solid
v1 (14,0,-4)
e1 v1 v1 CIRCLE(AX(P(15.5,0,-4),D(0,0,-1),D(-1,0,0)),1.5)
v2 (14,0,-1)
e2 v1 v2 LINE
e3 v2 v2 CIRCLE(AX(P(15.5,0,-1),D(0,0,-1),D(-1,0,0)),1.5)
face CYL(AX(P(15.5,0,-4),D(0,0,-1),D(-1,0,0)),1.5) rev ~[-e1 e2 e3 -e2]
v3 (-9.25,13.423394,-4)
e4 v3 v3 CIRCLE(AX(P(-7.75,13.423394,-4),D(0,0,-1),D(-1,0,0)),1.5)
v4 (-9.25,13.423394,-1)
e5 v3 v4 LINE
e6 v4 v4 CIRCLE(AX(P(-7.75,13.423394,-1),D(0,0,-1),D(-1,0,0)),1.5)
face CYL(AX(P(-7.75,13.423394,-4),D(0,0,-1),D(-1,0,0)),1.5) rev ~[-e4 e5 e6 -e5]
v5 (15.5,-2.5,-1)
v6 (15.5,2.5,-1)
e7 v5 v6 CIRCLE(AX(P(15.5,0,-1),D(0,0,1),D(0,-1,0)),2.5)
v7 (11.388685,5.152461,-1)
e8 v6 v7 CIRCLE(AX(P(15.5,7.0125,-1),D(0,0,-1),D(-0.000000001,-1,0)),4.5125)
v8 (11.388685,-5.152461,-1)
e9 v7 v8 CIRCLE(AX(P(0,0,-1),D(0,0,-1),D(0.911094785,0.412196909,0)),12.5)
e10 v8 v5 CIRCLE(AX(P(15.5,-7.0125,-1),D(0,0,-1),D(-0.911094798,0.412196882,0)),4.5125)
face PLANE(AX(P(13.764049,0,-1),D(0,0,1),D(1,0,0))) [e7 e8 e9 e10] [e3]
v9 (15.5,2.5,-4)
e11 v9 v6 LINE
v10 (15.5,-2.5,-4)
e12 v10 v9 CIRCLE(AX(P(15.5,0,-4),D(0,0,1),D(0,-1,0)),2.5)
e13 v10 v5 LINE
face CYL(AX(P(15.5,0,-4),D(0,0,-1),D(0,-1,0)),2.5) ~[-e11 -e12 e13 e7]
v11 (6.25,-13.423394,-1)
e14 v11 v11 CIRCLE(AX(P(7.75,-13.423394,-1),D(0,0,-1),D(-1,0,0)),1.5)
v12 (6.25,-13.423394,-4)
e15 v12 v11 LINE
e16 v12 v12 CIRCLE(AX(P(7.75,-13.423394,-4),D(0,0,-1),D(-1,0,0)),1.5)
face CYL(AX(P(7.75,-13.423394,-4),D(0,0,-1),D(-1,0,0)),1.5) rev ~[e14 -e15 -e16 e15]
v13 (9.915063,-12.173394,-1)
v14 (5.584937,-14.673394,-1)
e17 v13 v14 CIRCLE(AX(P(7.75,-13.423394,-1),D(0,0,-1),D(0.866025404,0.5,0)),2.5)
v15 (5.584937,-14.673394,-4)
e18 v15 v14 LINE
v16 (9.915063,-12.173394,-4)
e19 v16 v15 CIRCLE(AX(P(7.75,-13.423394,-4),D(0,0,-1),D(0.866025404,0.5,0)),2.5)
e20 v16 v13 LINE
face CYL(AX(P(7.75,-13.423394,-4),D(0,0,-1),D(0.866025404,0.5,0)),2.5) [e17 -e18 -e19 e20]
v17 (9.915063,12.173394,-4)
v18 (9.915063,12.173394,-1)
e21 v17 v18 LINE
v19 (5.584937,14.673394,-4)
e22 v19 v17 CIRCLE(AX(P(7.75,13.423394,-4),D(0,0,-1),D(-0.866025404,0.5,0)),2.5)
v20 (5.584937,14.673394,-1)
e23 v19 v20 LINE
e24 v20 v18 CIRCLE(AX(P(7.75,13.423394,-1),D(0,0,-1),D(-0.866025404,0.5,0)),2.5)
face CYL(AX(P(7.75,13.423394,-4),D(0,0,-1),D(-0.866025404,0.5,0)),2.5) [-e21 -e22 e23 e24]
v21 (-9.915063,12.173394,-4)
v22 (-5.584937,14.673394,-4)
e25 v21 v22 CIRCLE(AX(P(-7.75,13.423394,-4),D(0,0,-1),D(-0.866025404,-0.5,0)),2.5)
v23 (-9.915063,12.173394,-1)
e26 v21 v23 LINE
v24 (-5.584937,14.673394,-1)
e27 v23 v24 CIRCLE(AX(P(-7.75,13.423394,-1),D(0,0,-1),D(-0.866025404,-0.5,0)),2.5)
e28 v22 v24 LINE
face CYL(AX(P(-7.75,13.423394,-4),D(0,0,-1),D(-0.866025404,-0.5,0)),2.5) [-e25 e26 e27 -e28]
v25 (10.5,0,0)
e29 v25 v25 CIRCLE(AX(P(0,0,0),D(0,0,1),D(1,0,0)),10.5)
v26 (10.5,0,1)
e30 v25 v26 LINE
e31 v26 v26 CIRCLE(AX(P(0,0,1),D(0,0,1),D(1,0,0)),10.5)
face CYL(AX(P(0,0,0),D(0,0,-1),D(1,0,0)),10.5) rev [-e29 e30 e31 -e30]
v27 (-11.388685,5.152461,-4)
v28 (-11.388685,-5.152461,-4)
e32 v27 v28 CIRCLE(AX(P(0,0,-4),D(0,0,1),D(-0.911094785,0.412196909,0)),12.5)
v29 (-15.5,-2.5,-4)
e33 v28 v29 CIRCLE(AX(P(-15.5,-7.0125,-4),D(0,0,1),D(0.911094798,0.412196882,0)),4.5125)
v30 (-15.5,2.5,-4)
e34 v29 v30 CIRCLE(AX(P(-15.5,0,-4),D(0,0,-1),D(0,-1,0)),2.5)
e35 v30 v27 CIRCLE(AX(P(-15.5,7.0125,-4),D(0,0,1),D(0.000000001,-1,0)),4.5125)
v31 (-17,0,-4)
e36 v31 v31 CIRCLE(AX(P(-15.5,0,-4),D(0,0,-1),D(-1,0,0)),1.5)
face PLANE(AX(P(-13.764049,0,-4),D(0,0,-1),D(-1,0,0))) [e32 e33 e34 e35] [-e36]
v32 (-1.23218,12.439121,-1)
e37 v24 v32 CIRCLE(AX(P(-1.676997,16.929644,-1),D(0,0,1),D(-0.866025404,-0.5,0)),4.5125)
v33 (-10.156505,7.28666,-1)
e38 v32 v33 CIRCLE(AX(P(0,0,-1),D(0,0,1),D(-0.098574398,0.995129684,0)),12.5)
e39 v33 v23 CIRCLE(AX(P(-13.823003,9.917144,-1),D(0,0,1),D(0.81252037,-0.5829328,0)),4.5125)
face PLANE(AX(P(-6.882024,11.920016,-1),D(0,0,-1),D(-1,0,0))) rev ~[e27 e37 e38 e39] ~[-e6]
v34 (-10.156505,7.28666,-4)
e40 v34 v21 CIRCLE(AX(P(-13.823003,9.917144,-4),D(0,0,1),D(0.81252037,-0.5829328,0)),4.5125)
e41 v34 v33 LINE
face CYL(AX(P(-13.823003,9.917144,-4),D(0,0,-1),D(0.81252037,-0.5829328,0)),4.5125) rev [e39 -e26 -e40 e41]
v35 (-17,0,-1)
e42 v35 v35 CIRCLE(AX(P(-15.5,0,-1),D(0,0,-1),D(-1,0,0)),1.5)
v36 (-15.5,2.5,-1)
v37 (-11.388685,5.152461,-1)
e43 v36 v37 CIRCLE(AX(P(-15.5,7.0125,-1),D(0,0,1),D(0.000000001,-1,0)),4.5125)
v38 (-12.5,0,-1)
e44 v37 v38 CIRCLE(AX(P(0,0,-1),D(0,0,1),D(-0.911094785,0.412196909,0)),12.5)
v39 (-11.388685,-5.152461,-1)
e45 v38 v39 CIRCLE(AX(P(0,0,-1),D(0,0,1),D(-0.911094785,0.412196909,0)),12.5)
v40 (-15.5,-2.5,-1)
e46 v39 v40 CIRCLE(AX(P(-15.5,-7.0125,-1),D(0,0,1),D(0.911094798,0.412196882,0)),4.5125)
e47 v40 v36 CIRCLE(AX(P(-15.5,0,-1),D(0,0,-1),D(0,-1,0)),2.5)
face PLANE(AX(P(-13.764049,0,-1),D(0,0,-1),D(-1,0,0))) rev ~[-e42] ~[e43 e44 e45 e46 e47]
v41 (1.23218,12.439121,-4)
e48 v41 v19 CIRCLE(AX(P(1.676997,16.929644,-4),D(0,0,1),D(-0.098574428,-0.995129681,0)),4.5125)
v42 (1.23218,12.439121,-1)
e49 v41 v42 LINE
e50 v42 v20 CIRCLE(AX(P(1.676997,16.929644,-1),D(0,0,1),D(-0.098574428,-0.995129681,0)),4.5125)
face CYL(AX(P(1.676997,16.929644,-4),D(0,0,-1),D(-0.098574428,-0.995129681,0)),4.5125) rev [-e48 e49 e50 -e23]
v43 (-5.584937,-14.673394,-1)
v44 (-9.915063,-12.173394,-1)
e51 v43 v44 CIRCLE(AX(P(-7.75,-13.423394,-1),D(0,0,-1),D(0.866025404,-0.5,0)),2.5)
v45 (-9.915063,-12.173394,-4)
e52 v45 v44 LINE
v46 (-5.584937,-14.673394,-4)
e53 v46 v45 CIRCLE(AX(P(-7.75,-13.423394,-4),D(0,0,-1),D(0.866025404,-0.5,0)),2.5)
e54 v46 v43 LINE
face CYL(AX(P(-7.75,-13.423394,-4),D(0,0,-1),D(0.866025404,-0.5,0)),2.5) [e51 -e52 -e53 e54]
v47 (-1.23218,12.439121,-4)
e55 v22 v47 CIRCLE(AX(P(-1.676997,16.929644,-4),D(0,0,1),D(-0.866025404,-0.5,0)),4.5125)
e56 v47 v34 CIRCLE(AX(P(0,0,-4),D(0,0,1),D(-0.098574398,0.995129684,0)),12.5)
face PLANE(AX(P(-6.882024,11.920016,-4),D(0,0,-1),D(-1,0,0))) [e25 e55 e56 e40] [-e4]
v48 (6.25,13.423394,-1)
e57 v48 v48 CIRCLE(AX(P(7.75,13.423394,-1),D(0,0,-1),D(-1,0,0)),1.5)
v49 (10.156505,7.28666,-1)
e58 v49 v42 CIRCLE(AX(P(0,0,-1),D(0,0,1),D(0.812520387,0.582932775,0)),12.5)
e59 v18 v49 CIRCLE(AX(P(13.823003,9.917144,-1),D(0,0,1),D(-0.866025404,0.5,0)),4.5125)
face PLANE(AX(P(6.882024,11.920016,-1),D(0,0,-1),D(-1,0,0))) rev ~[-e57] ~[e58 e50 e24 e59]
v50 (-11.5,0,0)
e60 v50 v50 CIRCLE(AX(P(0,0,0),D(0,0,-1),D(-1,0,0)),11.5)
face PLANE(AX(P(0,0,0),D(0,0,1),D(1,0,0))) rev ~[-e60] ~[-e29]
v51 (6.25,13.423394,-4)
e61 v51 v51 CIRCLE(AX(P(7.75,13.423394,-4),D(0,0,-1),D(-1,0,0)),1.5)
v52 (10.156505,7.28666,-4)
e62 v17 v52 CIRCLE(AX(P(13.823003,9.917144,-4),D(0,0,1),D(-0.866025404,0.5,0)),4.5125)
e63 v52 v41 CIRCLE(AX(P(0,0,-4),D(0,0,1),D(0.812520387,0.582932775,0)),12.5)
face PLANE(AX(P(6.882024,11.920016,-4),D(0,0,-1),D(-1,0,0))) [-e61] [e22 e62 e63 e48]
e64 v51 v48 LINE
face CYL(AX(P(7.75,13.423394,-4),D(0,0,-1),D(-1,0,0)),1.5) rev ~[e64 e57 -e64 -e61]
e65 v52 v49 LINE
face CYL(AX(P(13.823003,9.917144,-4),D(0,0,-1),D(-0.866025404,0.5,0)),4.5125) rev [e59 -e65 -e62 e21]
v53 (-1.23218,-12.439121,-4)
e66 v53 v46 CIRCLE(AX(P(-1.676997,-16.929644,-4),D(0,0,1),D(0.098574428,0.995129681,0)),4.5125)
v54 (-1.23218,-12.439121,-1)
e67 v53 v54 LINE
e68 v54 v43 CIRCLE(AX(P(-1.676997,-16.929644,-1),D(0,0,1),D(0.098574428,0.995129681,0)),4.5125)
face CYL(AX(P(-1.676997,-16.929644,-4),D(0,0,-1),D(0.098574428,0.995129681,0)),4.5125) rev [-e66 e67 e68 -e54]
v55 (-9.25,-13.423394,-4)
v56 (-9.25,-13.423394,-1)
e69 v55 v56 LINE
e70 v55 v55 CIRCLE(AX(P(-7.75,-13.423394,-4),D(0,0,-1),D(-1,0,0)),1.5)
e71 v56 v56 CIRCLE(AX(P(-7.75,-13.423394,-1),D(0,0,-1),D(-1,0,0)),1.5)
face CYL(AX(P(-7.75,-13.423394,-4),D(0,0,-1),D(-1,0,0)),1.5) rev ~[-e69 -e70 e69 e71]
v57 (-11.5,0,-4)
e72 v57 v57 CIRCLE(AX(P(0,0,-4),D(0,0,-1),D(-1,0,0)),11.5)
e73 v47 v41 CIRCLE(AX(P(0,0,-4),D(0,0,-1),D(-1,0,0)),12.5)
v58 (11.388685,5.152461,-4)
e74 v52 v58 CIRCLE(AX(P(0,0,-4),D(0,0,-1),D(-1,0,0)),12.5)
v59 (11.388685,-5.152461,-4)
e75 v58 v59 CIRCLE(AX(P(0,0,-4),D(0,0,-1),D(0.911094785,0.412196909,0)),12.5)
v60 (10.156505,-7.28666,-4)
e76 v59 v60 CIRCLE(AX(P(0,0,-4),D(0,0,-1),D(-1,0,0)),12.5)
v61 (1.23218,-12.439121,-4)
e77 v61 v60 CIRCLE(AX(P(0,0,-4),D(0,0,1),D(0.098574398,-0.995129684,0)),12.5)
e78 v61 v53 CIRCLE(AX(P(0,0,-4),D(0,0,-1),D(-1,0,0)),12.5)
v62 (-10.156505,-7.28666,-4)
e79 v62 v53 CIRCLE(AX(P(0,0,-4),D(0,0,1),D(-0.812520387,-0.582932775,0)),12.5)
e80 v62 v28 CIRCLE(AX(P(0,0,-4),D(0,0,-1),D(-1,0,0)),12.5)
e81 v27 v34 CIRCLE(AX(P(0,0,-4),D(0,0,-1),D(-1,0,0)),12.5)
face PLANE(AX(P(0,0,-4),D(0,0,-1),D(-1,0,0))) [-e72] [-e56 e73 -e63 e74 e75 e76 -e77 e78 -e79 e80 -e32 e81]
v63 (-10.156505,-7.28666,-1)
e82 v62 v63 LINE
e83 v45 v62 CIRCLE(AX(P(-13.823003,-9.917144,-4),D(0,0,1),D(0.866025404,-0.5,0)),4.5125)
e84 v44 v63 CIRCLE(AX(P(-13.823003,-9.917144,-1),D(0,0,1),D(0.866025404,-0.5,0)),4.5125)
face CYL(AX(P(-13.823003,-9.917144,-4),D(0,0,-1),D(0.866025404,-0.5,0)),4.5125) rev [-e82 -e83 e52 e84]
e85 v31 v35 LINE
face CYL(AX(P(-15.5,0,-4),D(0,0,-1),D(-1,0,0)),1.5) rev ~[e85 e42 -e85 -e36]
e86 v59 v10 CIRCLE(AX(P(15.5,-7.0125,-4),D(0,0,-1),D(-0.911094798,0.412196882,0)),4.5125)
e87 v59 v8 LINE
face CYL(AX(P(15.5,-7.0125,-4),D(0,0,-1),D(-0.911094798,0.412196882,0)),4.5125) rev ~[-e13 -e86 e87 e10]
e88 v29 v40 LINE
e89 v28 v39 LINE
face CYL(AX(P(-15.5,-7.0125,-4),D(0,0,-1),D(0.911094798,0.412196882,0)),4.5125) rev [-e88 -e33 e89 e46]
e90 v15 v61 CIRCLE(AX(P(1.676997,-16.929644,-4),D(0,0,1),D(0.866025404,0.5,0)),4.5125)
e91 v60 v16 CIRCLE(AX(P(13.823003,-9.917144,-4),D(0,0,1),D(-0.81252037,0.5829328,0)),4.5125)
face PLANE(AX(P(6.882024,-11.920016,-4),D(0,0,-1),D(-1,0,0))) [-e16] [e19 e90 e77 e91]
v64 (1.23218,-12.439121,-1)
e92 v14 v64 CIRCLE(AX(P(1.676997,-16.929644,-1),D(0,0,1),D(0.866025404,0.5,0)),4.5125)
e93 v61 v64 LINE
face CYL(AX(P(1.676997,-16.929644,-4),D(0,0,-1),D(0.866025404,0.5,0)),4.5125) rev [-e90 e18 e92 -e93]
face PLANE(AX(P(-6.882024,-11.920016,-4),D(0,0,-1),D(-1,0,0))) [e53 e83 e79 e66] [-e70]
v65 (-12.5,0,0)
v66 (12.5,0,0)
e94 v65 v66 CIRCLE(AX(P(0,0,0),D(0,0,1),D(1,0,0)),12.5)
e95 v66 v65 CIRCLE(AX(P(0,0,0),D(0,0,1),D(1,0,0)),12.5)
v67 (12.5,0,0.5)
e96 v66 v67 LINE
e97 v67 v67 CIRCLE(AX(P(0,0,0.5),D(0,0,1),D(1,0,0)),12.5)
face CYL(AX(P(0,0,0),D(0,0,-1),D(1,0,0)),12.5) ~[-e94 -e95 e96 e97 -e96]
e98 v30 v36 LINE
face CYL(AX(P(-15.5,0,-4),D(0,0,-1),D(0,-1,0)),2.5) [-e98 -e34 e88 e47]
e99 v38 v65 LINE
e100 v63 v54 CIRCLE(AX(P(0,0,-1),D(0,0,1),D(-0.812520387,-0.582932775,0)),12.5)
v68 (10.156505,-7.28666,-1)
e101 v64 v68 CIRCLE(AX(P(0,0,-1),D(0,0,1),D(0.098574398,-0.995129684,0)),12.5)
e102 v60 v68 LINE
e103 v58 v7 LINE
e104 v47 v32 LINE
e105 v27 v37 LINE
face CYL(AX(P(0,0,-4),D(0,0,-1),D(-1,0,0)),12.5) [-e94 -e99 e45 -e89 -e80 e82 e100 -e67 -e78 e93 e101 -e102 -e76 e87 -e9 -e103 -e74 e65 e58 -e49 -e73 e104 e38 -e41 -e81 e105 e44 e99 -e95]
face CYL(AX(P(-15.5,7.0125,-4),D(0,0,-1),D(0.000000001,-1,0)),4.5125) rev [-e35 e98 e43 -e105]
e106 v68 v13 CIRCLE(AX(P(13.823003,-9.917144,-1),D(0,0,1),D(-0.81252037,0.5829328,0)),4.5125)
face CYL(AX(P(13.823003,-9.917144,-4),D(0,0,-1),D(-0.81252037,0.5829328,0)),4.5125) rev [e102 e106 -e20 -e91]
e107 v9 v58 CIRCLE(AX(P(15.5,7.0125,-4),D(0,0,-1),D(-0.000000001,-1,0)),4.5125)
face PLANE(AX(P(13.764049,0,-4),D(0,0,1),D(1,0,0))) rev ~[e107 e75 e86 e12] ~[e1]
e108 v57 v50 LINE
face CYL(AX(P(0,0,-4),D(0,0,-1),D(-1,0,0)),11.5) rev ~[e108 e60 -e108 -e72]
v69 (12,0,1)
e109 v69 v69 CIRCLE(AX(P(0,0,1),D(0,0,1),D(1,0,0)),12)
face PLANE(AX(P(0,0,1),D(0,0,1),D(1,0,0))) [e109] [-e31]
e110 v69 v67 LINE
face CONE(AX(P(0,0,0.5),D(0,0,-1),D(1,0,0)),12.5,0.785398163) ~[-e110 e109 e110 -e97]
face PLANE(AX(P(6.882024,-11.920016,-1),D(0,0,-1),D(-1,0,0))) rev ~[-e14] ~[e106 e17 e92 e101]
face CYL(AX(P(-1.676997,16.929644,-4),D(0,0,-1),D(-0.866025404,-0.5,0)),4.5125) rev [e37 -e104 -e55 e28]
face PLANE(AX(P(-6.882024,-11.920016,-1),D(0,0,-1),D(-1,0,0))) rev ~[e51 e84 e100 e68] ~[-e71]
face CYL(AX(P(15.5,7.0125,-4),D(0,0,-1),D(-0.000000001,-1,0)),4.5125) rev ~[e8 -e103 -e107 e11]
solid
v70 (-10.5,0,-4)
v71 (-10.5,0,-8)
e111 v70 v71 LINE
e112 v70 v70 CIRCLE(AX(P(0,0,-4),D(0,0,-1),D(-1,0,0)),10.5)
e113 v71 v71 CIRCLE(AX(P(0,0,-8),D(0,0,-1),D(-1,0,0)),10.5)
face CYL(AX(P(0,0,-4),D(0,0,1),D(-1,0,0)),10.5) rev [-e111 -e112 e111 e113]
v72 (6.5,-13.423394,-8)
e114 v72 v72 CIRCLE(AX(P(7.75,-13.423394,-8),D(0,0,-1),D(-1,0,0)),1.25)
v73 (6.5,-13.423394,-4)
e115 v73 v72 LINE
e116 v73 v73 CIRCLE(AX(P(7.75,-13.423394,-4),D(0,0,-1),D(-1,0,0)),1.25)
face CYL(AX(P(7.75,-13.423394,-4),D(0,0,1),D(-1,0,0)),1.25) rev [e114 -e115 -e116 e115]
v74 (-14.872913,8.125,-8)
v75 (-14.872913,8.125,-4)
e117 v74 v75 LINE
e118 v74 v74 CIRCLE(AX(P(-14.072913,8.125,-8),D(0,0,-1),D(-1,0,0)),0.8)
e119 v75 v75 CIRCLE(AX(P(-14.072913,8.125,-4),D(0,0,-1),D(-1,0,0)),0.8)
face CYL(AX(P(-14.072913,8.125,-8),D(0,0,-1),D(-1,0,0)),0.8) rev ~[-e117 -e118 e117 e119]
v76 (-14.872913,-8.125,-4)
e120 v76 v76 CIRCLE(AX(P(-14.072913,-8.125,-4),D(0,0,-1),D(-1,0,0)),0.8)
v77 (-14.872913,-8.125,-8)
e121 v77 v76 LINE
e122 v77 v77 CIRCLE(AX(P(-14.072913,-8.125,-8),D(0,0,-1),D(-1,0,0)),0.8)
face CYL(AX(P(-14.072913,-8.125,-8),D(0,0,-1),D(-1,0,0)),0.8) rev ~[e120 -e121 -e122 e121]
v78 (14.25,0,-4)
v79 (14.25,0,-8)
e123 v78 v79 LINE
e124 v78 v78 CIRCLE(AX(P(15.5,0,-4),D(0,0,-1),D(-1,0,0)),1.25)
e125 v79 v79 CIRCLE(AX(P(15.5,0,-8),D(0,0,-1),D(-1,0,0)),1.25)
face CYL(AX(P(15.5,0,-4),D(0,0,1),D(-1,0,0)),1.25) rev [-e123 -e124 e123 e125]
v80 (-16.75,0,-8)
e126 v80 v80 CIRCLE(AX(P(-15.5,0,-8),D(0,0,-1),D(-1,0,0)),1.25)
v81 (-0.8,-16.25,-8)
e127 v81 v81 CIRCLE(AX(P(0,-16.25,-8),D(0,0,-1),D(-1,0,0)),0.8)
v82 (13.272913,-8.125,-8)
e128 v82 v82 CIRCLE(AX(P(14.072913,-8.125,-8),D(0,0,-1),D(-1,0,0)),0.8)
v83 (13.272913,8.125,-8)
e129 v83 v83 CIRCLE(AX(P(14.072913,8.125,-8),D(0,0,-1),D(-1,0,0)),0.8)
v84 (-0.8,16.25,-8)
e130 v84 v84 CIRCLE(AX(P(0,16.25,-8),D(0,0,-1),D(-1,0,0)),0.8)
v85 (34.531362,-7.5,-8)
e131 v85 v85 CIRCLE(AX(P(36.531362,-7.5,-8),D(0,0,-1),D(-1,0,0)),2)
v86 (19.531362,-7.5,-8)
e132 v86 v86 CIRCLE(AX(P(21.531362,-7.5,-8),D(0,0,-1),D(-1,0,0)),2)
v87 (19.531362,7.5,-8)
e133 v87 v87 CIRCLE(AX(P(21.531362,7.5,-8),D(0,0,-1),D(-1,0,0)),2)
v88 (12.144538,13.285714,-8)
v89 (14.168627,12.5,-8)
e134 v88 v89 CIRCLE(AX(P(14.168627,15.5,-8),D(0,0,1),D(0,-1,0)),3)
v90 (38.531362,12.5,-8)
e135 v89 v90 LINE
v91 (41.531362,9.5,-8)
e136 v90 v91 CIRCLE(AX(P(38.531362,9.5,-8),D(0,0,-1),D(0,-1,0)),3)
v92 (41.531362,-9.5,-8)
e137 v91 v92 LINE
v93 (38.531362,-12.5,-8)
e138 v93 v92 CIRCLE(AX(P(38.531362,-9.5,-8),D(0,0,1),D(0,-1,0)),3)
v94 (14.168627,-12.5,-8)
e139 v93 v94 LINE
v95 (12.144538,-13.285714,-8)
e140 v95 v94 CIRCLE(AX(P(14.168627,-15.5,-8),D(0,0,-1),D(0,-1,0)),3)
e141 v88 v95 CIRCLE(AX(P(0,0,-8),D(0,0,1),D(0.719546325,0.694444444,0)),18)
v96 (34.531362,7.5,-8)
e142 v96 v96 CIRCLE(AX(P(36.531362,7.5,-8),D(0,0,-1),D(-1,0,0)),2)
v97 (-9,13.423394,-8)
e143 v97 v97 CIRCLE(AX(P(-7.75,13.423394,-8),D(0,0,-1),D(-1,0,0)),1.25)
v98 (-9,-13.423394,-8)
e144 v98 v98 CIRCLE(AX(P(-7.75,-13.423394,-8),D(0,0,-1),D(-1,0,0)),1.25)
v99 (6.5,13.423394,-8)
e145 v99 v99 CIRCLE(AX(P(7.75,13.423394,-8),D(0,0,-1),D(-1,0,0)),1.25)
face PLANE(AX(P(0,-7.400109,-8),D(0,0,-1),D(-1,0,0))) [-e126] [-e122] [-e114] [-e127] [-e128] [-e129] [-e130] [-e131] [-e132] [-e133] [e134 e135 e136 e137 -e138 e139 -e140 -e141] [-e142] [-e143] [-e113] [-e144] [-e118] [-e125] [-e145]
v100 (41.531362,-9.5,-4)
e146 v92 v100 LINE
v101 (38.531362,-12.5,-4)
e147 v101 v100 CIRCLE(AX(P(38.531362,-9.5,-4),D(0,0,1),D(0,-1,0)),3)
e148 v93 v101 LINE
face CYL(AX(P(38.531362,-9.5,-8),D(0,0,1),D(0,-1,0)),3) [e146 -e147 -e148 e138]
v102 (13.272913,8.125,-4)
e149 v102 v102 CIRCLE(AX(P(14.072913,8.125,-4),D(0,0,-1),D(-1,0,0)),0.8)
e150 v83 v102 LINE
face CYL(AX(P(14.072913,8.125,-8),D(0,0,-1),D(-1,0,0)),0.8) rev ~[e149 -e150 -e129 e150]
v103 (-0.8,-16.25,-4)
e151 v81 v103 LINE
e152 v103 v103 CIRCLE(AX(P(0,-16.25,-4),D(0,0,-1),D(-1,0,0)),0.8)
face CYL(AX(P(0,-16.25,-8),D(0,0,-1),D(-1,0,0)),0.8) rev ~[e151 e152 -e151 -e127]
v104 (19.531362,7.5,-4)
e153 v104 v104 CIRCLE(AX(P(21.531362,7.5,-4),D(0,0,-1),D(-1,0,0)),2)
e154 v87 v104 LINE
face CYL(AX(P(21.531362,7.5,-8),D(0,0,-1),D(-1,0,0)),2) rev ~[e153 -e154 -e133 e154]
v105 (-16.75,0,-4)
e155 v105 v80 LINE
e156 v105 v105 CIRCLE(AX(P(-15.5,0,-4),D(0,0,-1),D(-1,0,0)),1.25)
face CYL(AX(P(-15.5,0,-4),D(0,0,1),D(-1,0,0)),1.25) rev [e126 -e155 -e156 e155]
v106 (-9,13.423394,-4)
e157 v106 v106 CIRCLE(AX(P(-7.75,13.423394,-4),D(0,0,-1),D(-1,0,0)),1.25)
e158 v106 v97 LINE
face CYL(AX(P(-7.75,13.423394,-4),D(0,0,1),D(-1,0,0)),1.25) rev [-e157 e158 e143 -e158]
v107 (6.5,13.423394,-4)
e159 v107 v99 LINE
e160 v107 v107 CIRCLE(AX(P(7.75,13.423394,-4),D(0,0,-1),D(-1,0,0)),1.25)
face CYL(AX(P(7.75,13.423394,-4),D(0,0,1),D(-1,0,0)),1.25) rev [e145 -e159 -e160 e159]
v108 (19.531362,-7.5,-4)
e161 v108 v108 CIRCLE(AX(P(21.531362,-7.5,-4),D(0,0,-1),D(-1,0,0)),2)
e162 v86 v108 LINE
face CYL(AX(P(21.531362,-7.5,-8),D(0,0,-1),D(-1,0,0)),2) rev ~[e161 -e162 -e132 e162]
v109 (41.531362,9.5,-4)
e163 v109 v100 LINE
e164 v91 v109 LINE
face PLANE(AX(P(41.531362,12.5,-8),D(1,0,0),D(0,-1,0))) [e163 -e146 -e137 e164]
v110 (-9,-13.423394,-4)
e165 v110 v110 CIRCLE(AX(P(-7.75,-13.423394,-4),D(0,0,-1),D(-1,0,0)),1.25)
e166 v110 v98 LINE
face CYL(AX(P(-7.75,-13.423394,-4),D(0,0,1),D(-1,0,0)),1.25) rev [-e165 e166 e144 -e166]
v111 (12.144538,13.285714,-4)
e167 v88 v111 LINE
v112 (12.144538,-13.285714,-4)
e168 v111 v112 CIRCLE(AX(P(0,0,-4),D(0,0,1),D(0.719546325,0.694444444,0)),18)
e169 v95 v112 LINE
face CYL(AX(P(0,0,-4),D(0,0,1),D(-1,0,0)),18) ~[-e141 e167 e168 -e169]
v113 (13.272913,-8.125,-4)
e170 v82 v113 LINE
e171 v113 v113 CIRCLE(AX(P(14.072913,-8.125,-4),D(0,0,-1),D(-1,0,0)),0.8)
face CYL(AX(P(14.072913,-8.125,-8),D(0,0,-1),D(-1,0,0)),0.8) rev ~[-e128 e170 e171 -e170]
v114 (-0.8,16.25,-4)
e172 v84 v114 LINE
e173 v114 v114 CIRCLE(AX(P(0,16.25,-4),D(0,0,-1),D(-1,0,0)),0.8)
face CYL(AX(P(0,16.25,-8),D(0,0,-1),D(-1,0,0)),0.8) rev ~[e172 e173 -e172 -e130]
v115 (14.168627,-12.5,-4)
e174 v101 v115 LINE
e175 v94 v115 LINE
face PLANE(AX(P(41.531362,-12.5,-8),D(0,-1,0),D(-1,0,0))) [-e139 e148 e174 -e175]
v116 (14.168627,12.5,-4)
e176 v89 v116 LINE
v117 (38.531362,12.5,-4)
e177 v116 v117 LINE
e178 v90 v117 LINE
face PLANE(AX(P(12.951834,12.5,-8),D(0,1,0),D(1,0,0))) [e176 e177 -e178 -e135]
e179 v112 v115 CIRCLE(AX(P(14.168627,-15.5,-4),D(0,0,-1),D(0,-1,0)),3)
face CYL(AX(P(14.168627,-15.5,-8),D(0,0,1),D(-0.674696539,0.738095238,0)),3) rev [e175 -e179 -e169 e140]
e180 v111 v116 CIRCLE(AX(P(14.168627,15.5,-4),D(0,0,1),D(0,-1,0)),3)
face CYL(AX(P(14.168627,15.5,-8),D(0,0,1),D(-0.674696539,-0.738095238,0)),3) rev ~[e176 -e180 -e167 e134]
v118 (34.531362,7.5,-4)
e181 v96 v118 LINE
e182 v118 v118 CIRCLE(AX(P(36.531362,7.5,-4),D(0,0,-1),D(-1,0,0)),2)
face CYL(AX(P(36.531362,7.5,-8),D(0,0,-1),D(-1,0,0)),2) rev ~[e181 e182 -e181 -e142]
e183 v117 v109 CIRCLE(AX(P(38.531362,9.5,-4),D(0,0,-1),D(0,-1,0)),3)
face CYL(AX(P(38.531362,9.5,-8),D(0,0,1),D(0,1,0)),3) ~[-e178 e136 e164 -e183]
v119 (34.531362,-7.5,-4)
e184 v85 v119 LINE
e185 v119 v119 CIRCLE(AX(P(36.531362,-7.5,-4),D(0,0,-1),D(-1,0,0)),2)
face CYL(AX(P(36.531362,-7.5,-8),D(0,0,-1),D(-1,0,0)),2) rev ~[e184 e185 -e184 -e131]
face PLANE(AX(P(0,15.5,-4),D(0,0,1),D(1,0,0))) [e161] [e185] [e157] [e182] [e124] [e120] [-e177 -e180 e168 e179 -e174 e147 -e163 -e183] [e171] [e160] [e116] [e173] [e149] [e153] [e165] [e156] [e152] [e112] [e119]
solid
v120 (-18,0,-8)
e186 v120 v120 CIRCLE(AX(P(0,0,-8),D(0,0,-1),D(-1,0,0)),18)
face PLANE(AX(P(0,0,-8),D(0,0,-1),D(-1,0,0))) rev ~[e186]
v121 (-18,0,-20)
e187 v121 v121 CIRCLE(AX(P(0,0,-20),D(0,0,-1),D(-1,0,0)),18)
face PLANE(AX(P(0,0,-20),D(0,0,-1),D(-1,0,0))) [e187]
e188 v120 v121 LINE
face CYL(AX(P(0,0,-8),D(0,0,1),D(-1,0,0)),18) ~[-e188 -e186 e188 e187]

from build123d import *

# Parameters (mm, degrees)
SKETCH_1_R          = 12.5
SKETCH_1_R_2        = 10.5
EXTRUDE_1_DEPTH     = 1
EXTRUDE_START       = 4
SKETCH_2_R          = 12.5
SKETCH_2_R_2        = 11.5
EXTRUDE_2_DEPTH     = 4
SKETCH_3_R          = 1.5
EXTRUDE_4_DEPTH     = 3
SKETCH_4_R          = 1.25
SKETCH_4_R_2        = 10.5
EXTRUDE_5_DEPTH     = 4
CHAMFER_1_SIZE      = 0.5
CUT_EXTRUDE_1_DEPTH = 10
SKETCH_14_R         = 1.25
EXTRUDE_6_DEPTH     = 4
SKETCH_15_R         = 18
EXTRUDE_7_DEPTH     = 12
SKETCH_18_R         = 0.8
CUT_EXTRUDE_2_DEPTH = 4
EXTRUDE_8_DEPTH     = 4
SKETCH_20_R         = 2
CUT_EXTRUDE_3_DEPTH = 4
FILLET_1_R          = 3


with BuildPart() as part:
    # Sketch 1 → Extrude 1 (new body)
    with BuildSketch(Plane.XY):
        Circle(SKETCH_1_R)
        Circle(SKETCH_1_R_2, mode=Mode.SUBTRACT)
    extrude(amount=EXTRUDE_1_DEPTH)

    # Sketch 2 → Extrude 2 (add)
    with BuildSketch(Plane(origin=(0, 0, 0), x_dir=(-1, 0, 0), z_dir=(0, 0, -1)).offset(EXTRUDE_START)):
        Circle(SKETCH_2_R)
        Circle(SKETCH_2_R_2, mode=Mode.SUBTRACT)
    extrude(amount=-EXTRUDE_2_DEPTH)

    # Sketch 3 → Extrude 4 (add)
    # profile 1 of 6: a face of its own
    with BuildSketch(Plane(origin=(0, 0, -4), x_dir=(-1, 0, 0), z_dir=(0, 0, -1))):
        with BuildLine():
            ThreePointArc((9.915063383, 12.173393832), (8.999999927, 15.588457141), (5.584936617, 14.673393685))
            ThreePointArc((5.584936617, 14.673393685), (3.73765178, 12.915125295), (1.232179975, 12.439121051))
            ThreePointArc((1.232179975, 12.439121051), (6.25, 10.825317547), (10.156504843, 7.286659685))
            ThreePointArc((10.156504843, 7.286659685), (9.316000708, 9.694464039), (9.915063383, 12.173393832))
        make_face()
        with Locations((7.75, 13.423393759)):
            Circle(SKETCH_3_R, mode=Mode.SUBTRACT)
    # profile 2 of 6: a face of its own
    with BuildSketch(Plane(origin=(0, 0, -4), x_dir=(-1, 0, 0), z_dir=(0, 0, -1))):
        with BuildLine():
            ThreePointArc((-11.388684818, 5.152461365), (-12.5, 0), (-11.388684818, -5.152461365))
            ThreePointArc((-11.388684818, -5.152461365), (-13.053652488, -3.220661256), (-15.5, -2.499999853))
            ThreePointArc((-15.5, -2.499999853), (-17.999999853, 0), (-15.5, 2.499999853))
            ThreePointArc((-15.5, 2.499999853), (-13.053652488, 3.220661256), (-11.388684818, 5.152461365))
        make_face()
        with Locations((-15.5, 0)):
            Circle(SKETCH_3_R, mode=Mode.SUBTRACT)
    # profile 3 of 6: a face of its own
    with BuildSketch(Plane(origin=(0, 0, -4), x_dir=(-1, 0, 0), z_dir=(0, 0, -1))):
        with BuildLine():
            ThreePointArc((15.5, 2.499999853), (13.053652488, 3.220661256), (11.388684818, 5.152461365))
            ThreePointArc((11.388684818, 5.152461365), (12.5, 0), (11.388684818, -5.152461365))
            ThreePointArc((11.388684818, -5.152461365), (13.053652488, -3.220661256), (15.5, -2.499999853))
            ThreePointArc((15.5, -2.499999853), (17.999999853, 0), (15.5, 2.499999853))
        make_face()
        with Locations((15.5, 0)):
            Circle(SKETCH_3_R, mode=Mode.SUBTRACT)
    # profile 4 of 6: a face of its own
    with BuildSketch(Plane(origin=(0, 0, -4), x_dir=(-1, 0, 0), z_dir=(0, 0, -1))):
        with BuildLine():
            ThreePointArc((9.915063383, -12.173393832), (9.316000708, -9.694464039), (10.156504843, -7.286659685))
            ThreePointArc((10.156504843, -7.286659685), (6.25, -10.825317547), (1.232179975, -12.439121051))
            ThreePointArc((1.232179975, -12.439121051), (3.73765178, -12.915125295), (5.584936617, -14.673393685))
            ThreePointArc((5.584936617, -14.673393685), (8.999999927, -15.588457141), (9.915063383, -12.173393832))
        make_face()
        with Locations((7.75, -13.423393759)):
            Circle(SKETCH_3_R, mode=Mode.SUBTRACT)
    # profile 5 of 6: a face of its own
    with BuildSketch(Plane(origin=(0, 0, -4), x_dir=(-1, 0, 0), z_dir=(0, 0, -1))):
        with BuildLine():
            ThreePointArc((-5.584936617, -14.673393685), (-3.73765178, -12.915125295), (-1.232179975, -12.439121051))
            ThreePointArc((-1.232179975, -12.439121051), (-6.25, -10.825317547), (-10.156504843, -7.286659685))
            ThreePointArc((-10.156504843, -7.286659685), (-9.316000708, -9.694464039), (-9.915063383, -12.173393832))
            ThreePointArc((-9.915063383, -12.173393832), (-8.999999927, -15.588457141), (-5.584936617, -14.673393685))
        make_face()
        with Locations((-7.75, -13.423393759)):
            Circle(SKETCH_3_R, mode=Mode.SUBTRACT)
    # profile 6 of 6: a face of its own
    with BuildSketch(Plane(origin=(0, 0, -4), x_dir=(-1, 0, 0), z_dir=(0, 0, -1))):
        with BuildLine():
            ThreePointArc((-9.915063383, 12.173393832), (-9.316000708, 9.694464039), (-10.156504843, 7.286659685))
            ThreePointArc((-10.156504843, 7.286659685), (-6.25, 10.825317547), (-1.232179975, 12.439121051))
            ThreePointArc((-1.232179975, 12.439121051), (-3.73765178, 12.915125295), (-5.584936617, 14.673393685))
            ThreePointArc((-5.584936617, 14.673393685), (-8.999999927, 15.588457141), (-9.915063383, 12.173393832))
        make_face()
        with Locations((-7.75, 13.423393759)):
            Circle(SKETCH_3_R, mode=Mode.SUBTRACT)
    extrude(amount=-EXTRUDE_4_DEPTH)

    # Chamfer 1
    chamfer_1_edges = [part.edges().sort_by_distance(p)[0] for p in [
        (-12.5, 0, 1),
    ]]
    chamfer(chamfer_1_edges, length=CHAMFER_1_SIZE)


with BuildPart() as body_2:
    # Sketch 4 → Extrude 5 (new body)
    with BuildSketch(Plane(origin=(0, 0, -4), x_dir=(-1, 0, 0), z_dir=(0, 0, -1))):
        with BuildLine():
            Line((-18, 0), (-18, -26))
            Line((-18, -26), (18, -26))
            Line((18, -26), (18, 0))
            ThreePointArc((18, 0), (0, 18), (-18, 0))
        make_face()
        with Locations((7.75, 13.423393759)):
            Circle(SKETCH_4_R, mode=Mode.SUBTRACT)
        Circle(SKETCH_4_R_2, mode=Mode.SUBTRACT)
        with Locations((13.423393759, 7.75)):
            Circle(SKETCH_4_R, mode=Mode.SUBTRACT)
        with Locations((15.5, 0)):
            Circle(SKETCH_4_R, mode=Mode.SUBTRACT)
        with Locations((13.423393759, -7.75)):
            Circle(SKETCH_4_R, mode=Mode.SUBTRACT)
        with Locations((7.75, -13.423393759)):
            Circle(SKETCH_4_R, mode=Mode.SUBTRACT)
        with Locations((0, -15.5)):
            Circle(SKETCH_4_R, mode=Mode.SUBTRACT)
        with Locations((-7.75, -13.423393759)):
            Circle(SKETCH_4_R, mode=Mode.SUBTRACT)
        with Locations((-13.423393759, -7.75)):
            Circle(SKETCH_4_R, mode=Mode.SUBTRACT)
        with Locations((-15.5, 0)):
            Circle(SKETCH_4_R, mode=Mode.SUBTRACT)
        with Locations((-13.423393759, 7.75)):
            Circle(SKETCH_4_R, mode=Mode.SUBTRACT)
        with Locations((-7.75, 13.423393759)):
            Circle(SKETCH_4_R, mode=Mode.SUBTRACT)
        with Locations((0, 15.5)):
            Circle(SKETCH_4_R, mode=Mode.SUBTRACT)
    extrude(amount=EXTRUDE_5_DEPTH)

    # Sketch 13 → Cut-Extrude 1 (cut)
    with BuildSketch(Plane(origin=(0, 0, -8), x_dir=(-1, 0, 0), z_dir=(0, 0, -1))):
        with BuildLine():
            ThreePointArc((18, 0), (0, -18), (-18, 0))
            Line((-18, 0), (-18, -26))
            Line((-18, -26), (18, -26))
            Line((18, -26), (18, 0))
        make_face()
    extrude(amount=-CUT_EXTRUDE_1_DEPTH, mode=Mode.SUBTRACT)

    # Sketch 14 → Extrude 6 (add)
    with BuildSketch(Plane.XY.offset(-4)):
        with Locations((0, 15.5)):
            Circle(SKETCH_14_R)
        with Locations((13.423393759, 7.75)):
            Circle(SKETCH_14_R)
        with Locations((13.423393759, -7.75)):
            Circle(SKETCH_14_R)
        with Locations((0, -15.5)):
            Circle(SKETCH_14_R)
        with Locations((-13.423393759, -7.75)):
            Circle(SKETCH_14_R)
        with Locations((-13.423393759, 7.75)):
            Circle(SKETCH_14_R)
    extrude(amount=-EXTRUDE_6_DEPTH)

    # Sketch 18 → Cut-Extrude 2 (cut)
    with BuildSketch(Plane(origin=(0, 0, -8), x_dir=(-1, 0, 0), z_dir=(0, 0, -1))):
        with Locations((0, 16.25)):
            Circle(SKETCH_18_R)
        with Locations((14.072912811, 8.125)):
            Circle(SKETCH_18_R)
        with Locations((14.072912811, -8.125)):
            Circle(SKETCH_18_R)
        with Locations((0, -16.25)):
            Circle(SKETCH_18_R)
        with Locations((-14.072912811, -8.125)):
            Circle(SKETCH_18_R)
        with Locations((-14.072912811, 8.125)):
            Circle(SKETCH_18_R)
    extrude(amount=-CUT_EXTRUDE_2_DEPTH, mode=Mode.SUBTRACT)

    # Sketch 19 → Extrude 8 (add)
    with BuildSketch(Plane(origin=(0, 0, -8), x_dir=(-1, 0, 0), z_dir=(0, 0, -1))):
        with BuildLine():
            Line((-41.531361747, -12.5), (-12.951833847, -12.5))
            ThreePointArc((-12.951833847, -12.5), (-18, 0), (-12.951833847, 12.5))
            Line((-12.951833847, 12.5), (-41.531361747, 12.5))
            Line((-41.531361747, 12.5), (-41.531361747, -12.5))
        make_face()
    extrude(amount=-EXTRUDE_8_DEPTH)

    # Sketch 20 → Cut-Extrude 3 (cut)
    with BuildSketch(Plane(origin=(0, 0, -8), x_dir=(-1, 0, 0), z_dir=(0, 0, -1))):
        with Locations((-21.531361747, 7.5)):
            Circle(SKETCH_20_R)
        with Locations((-21.531361747, -7.5)):
            Circle(SKETCH_20_R)
        with Locations((-36.531361747, -7.5)):
            Circle(SKETCH_20_R)
        with Locations((-36.531361747, 7.5)):
            Circle(SKETCH_20_R)
    extrude(amount=-CUT_EXTRUDE_3_DEPTH, mode=Mode.SUBTRACT)

    # Fillet 1
    fillet_1_edges = [body_2.edges().sort_by_distance(p)[0] for p in [
        (41.531361747, -12.5, -6),
        (41.531361747, 12.5, -6),
        (12.951833847, 12.5, -6),
        (12.951833847, -12.5, -6),
    ]]
    fillet(fillet_1_edges, radius=FILLET_1_R)


with BuildPart() as body_3:
    # Sketch 15 → Extrude 7 (new body)
    with BuildSketch(Plane(origin=(0, 0, -8), x_dir=(-1, 0, 0), z_dir=(0, 0, -1))):
        Circle(SKETCH_15_R)
    extrude(amount=EXTRUDE_7_DEPTH)


solid = Compound([part.part, body_2.part, body_3.part])
